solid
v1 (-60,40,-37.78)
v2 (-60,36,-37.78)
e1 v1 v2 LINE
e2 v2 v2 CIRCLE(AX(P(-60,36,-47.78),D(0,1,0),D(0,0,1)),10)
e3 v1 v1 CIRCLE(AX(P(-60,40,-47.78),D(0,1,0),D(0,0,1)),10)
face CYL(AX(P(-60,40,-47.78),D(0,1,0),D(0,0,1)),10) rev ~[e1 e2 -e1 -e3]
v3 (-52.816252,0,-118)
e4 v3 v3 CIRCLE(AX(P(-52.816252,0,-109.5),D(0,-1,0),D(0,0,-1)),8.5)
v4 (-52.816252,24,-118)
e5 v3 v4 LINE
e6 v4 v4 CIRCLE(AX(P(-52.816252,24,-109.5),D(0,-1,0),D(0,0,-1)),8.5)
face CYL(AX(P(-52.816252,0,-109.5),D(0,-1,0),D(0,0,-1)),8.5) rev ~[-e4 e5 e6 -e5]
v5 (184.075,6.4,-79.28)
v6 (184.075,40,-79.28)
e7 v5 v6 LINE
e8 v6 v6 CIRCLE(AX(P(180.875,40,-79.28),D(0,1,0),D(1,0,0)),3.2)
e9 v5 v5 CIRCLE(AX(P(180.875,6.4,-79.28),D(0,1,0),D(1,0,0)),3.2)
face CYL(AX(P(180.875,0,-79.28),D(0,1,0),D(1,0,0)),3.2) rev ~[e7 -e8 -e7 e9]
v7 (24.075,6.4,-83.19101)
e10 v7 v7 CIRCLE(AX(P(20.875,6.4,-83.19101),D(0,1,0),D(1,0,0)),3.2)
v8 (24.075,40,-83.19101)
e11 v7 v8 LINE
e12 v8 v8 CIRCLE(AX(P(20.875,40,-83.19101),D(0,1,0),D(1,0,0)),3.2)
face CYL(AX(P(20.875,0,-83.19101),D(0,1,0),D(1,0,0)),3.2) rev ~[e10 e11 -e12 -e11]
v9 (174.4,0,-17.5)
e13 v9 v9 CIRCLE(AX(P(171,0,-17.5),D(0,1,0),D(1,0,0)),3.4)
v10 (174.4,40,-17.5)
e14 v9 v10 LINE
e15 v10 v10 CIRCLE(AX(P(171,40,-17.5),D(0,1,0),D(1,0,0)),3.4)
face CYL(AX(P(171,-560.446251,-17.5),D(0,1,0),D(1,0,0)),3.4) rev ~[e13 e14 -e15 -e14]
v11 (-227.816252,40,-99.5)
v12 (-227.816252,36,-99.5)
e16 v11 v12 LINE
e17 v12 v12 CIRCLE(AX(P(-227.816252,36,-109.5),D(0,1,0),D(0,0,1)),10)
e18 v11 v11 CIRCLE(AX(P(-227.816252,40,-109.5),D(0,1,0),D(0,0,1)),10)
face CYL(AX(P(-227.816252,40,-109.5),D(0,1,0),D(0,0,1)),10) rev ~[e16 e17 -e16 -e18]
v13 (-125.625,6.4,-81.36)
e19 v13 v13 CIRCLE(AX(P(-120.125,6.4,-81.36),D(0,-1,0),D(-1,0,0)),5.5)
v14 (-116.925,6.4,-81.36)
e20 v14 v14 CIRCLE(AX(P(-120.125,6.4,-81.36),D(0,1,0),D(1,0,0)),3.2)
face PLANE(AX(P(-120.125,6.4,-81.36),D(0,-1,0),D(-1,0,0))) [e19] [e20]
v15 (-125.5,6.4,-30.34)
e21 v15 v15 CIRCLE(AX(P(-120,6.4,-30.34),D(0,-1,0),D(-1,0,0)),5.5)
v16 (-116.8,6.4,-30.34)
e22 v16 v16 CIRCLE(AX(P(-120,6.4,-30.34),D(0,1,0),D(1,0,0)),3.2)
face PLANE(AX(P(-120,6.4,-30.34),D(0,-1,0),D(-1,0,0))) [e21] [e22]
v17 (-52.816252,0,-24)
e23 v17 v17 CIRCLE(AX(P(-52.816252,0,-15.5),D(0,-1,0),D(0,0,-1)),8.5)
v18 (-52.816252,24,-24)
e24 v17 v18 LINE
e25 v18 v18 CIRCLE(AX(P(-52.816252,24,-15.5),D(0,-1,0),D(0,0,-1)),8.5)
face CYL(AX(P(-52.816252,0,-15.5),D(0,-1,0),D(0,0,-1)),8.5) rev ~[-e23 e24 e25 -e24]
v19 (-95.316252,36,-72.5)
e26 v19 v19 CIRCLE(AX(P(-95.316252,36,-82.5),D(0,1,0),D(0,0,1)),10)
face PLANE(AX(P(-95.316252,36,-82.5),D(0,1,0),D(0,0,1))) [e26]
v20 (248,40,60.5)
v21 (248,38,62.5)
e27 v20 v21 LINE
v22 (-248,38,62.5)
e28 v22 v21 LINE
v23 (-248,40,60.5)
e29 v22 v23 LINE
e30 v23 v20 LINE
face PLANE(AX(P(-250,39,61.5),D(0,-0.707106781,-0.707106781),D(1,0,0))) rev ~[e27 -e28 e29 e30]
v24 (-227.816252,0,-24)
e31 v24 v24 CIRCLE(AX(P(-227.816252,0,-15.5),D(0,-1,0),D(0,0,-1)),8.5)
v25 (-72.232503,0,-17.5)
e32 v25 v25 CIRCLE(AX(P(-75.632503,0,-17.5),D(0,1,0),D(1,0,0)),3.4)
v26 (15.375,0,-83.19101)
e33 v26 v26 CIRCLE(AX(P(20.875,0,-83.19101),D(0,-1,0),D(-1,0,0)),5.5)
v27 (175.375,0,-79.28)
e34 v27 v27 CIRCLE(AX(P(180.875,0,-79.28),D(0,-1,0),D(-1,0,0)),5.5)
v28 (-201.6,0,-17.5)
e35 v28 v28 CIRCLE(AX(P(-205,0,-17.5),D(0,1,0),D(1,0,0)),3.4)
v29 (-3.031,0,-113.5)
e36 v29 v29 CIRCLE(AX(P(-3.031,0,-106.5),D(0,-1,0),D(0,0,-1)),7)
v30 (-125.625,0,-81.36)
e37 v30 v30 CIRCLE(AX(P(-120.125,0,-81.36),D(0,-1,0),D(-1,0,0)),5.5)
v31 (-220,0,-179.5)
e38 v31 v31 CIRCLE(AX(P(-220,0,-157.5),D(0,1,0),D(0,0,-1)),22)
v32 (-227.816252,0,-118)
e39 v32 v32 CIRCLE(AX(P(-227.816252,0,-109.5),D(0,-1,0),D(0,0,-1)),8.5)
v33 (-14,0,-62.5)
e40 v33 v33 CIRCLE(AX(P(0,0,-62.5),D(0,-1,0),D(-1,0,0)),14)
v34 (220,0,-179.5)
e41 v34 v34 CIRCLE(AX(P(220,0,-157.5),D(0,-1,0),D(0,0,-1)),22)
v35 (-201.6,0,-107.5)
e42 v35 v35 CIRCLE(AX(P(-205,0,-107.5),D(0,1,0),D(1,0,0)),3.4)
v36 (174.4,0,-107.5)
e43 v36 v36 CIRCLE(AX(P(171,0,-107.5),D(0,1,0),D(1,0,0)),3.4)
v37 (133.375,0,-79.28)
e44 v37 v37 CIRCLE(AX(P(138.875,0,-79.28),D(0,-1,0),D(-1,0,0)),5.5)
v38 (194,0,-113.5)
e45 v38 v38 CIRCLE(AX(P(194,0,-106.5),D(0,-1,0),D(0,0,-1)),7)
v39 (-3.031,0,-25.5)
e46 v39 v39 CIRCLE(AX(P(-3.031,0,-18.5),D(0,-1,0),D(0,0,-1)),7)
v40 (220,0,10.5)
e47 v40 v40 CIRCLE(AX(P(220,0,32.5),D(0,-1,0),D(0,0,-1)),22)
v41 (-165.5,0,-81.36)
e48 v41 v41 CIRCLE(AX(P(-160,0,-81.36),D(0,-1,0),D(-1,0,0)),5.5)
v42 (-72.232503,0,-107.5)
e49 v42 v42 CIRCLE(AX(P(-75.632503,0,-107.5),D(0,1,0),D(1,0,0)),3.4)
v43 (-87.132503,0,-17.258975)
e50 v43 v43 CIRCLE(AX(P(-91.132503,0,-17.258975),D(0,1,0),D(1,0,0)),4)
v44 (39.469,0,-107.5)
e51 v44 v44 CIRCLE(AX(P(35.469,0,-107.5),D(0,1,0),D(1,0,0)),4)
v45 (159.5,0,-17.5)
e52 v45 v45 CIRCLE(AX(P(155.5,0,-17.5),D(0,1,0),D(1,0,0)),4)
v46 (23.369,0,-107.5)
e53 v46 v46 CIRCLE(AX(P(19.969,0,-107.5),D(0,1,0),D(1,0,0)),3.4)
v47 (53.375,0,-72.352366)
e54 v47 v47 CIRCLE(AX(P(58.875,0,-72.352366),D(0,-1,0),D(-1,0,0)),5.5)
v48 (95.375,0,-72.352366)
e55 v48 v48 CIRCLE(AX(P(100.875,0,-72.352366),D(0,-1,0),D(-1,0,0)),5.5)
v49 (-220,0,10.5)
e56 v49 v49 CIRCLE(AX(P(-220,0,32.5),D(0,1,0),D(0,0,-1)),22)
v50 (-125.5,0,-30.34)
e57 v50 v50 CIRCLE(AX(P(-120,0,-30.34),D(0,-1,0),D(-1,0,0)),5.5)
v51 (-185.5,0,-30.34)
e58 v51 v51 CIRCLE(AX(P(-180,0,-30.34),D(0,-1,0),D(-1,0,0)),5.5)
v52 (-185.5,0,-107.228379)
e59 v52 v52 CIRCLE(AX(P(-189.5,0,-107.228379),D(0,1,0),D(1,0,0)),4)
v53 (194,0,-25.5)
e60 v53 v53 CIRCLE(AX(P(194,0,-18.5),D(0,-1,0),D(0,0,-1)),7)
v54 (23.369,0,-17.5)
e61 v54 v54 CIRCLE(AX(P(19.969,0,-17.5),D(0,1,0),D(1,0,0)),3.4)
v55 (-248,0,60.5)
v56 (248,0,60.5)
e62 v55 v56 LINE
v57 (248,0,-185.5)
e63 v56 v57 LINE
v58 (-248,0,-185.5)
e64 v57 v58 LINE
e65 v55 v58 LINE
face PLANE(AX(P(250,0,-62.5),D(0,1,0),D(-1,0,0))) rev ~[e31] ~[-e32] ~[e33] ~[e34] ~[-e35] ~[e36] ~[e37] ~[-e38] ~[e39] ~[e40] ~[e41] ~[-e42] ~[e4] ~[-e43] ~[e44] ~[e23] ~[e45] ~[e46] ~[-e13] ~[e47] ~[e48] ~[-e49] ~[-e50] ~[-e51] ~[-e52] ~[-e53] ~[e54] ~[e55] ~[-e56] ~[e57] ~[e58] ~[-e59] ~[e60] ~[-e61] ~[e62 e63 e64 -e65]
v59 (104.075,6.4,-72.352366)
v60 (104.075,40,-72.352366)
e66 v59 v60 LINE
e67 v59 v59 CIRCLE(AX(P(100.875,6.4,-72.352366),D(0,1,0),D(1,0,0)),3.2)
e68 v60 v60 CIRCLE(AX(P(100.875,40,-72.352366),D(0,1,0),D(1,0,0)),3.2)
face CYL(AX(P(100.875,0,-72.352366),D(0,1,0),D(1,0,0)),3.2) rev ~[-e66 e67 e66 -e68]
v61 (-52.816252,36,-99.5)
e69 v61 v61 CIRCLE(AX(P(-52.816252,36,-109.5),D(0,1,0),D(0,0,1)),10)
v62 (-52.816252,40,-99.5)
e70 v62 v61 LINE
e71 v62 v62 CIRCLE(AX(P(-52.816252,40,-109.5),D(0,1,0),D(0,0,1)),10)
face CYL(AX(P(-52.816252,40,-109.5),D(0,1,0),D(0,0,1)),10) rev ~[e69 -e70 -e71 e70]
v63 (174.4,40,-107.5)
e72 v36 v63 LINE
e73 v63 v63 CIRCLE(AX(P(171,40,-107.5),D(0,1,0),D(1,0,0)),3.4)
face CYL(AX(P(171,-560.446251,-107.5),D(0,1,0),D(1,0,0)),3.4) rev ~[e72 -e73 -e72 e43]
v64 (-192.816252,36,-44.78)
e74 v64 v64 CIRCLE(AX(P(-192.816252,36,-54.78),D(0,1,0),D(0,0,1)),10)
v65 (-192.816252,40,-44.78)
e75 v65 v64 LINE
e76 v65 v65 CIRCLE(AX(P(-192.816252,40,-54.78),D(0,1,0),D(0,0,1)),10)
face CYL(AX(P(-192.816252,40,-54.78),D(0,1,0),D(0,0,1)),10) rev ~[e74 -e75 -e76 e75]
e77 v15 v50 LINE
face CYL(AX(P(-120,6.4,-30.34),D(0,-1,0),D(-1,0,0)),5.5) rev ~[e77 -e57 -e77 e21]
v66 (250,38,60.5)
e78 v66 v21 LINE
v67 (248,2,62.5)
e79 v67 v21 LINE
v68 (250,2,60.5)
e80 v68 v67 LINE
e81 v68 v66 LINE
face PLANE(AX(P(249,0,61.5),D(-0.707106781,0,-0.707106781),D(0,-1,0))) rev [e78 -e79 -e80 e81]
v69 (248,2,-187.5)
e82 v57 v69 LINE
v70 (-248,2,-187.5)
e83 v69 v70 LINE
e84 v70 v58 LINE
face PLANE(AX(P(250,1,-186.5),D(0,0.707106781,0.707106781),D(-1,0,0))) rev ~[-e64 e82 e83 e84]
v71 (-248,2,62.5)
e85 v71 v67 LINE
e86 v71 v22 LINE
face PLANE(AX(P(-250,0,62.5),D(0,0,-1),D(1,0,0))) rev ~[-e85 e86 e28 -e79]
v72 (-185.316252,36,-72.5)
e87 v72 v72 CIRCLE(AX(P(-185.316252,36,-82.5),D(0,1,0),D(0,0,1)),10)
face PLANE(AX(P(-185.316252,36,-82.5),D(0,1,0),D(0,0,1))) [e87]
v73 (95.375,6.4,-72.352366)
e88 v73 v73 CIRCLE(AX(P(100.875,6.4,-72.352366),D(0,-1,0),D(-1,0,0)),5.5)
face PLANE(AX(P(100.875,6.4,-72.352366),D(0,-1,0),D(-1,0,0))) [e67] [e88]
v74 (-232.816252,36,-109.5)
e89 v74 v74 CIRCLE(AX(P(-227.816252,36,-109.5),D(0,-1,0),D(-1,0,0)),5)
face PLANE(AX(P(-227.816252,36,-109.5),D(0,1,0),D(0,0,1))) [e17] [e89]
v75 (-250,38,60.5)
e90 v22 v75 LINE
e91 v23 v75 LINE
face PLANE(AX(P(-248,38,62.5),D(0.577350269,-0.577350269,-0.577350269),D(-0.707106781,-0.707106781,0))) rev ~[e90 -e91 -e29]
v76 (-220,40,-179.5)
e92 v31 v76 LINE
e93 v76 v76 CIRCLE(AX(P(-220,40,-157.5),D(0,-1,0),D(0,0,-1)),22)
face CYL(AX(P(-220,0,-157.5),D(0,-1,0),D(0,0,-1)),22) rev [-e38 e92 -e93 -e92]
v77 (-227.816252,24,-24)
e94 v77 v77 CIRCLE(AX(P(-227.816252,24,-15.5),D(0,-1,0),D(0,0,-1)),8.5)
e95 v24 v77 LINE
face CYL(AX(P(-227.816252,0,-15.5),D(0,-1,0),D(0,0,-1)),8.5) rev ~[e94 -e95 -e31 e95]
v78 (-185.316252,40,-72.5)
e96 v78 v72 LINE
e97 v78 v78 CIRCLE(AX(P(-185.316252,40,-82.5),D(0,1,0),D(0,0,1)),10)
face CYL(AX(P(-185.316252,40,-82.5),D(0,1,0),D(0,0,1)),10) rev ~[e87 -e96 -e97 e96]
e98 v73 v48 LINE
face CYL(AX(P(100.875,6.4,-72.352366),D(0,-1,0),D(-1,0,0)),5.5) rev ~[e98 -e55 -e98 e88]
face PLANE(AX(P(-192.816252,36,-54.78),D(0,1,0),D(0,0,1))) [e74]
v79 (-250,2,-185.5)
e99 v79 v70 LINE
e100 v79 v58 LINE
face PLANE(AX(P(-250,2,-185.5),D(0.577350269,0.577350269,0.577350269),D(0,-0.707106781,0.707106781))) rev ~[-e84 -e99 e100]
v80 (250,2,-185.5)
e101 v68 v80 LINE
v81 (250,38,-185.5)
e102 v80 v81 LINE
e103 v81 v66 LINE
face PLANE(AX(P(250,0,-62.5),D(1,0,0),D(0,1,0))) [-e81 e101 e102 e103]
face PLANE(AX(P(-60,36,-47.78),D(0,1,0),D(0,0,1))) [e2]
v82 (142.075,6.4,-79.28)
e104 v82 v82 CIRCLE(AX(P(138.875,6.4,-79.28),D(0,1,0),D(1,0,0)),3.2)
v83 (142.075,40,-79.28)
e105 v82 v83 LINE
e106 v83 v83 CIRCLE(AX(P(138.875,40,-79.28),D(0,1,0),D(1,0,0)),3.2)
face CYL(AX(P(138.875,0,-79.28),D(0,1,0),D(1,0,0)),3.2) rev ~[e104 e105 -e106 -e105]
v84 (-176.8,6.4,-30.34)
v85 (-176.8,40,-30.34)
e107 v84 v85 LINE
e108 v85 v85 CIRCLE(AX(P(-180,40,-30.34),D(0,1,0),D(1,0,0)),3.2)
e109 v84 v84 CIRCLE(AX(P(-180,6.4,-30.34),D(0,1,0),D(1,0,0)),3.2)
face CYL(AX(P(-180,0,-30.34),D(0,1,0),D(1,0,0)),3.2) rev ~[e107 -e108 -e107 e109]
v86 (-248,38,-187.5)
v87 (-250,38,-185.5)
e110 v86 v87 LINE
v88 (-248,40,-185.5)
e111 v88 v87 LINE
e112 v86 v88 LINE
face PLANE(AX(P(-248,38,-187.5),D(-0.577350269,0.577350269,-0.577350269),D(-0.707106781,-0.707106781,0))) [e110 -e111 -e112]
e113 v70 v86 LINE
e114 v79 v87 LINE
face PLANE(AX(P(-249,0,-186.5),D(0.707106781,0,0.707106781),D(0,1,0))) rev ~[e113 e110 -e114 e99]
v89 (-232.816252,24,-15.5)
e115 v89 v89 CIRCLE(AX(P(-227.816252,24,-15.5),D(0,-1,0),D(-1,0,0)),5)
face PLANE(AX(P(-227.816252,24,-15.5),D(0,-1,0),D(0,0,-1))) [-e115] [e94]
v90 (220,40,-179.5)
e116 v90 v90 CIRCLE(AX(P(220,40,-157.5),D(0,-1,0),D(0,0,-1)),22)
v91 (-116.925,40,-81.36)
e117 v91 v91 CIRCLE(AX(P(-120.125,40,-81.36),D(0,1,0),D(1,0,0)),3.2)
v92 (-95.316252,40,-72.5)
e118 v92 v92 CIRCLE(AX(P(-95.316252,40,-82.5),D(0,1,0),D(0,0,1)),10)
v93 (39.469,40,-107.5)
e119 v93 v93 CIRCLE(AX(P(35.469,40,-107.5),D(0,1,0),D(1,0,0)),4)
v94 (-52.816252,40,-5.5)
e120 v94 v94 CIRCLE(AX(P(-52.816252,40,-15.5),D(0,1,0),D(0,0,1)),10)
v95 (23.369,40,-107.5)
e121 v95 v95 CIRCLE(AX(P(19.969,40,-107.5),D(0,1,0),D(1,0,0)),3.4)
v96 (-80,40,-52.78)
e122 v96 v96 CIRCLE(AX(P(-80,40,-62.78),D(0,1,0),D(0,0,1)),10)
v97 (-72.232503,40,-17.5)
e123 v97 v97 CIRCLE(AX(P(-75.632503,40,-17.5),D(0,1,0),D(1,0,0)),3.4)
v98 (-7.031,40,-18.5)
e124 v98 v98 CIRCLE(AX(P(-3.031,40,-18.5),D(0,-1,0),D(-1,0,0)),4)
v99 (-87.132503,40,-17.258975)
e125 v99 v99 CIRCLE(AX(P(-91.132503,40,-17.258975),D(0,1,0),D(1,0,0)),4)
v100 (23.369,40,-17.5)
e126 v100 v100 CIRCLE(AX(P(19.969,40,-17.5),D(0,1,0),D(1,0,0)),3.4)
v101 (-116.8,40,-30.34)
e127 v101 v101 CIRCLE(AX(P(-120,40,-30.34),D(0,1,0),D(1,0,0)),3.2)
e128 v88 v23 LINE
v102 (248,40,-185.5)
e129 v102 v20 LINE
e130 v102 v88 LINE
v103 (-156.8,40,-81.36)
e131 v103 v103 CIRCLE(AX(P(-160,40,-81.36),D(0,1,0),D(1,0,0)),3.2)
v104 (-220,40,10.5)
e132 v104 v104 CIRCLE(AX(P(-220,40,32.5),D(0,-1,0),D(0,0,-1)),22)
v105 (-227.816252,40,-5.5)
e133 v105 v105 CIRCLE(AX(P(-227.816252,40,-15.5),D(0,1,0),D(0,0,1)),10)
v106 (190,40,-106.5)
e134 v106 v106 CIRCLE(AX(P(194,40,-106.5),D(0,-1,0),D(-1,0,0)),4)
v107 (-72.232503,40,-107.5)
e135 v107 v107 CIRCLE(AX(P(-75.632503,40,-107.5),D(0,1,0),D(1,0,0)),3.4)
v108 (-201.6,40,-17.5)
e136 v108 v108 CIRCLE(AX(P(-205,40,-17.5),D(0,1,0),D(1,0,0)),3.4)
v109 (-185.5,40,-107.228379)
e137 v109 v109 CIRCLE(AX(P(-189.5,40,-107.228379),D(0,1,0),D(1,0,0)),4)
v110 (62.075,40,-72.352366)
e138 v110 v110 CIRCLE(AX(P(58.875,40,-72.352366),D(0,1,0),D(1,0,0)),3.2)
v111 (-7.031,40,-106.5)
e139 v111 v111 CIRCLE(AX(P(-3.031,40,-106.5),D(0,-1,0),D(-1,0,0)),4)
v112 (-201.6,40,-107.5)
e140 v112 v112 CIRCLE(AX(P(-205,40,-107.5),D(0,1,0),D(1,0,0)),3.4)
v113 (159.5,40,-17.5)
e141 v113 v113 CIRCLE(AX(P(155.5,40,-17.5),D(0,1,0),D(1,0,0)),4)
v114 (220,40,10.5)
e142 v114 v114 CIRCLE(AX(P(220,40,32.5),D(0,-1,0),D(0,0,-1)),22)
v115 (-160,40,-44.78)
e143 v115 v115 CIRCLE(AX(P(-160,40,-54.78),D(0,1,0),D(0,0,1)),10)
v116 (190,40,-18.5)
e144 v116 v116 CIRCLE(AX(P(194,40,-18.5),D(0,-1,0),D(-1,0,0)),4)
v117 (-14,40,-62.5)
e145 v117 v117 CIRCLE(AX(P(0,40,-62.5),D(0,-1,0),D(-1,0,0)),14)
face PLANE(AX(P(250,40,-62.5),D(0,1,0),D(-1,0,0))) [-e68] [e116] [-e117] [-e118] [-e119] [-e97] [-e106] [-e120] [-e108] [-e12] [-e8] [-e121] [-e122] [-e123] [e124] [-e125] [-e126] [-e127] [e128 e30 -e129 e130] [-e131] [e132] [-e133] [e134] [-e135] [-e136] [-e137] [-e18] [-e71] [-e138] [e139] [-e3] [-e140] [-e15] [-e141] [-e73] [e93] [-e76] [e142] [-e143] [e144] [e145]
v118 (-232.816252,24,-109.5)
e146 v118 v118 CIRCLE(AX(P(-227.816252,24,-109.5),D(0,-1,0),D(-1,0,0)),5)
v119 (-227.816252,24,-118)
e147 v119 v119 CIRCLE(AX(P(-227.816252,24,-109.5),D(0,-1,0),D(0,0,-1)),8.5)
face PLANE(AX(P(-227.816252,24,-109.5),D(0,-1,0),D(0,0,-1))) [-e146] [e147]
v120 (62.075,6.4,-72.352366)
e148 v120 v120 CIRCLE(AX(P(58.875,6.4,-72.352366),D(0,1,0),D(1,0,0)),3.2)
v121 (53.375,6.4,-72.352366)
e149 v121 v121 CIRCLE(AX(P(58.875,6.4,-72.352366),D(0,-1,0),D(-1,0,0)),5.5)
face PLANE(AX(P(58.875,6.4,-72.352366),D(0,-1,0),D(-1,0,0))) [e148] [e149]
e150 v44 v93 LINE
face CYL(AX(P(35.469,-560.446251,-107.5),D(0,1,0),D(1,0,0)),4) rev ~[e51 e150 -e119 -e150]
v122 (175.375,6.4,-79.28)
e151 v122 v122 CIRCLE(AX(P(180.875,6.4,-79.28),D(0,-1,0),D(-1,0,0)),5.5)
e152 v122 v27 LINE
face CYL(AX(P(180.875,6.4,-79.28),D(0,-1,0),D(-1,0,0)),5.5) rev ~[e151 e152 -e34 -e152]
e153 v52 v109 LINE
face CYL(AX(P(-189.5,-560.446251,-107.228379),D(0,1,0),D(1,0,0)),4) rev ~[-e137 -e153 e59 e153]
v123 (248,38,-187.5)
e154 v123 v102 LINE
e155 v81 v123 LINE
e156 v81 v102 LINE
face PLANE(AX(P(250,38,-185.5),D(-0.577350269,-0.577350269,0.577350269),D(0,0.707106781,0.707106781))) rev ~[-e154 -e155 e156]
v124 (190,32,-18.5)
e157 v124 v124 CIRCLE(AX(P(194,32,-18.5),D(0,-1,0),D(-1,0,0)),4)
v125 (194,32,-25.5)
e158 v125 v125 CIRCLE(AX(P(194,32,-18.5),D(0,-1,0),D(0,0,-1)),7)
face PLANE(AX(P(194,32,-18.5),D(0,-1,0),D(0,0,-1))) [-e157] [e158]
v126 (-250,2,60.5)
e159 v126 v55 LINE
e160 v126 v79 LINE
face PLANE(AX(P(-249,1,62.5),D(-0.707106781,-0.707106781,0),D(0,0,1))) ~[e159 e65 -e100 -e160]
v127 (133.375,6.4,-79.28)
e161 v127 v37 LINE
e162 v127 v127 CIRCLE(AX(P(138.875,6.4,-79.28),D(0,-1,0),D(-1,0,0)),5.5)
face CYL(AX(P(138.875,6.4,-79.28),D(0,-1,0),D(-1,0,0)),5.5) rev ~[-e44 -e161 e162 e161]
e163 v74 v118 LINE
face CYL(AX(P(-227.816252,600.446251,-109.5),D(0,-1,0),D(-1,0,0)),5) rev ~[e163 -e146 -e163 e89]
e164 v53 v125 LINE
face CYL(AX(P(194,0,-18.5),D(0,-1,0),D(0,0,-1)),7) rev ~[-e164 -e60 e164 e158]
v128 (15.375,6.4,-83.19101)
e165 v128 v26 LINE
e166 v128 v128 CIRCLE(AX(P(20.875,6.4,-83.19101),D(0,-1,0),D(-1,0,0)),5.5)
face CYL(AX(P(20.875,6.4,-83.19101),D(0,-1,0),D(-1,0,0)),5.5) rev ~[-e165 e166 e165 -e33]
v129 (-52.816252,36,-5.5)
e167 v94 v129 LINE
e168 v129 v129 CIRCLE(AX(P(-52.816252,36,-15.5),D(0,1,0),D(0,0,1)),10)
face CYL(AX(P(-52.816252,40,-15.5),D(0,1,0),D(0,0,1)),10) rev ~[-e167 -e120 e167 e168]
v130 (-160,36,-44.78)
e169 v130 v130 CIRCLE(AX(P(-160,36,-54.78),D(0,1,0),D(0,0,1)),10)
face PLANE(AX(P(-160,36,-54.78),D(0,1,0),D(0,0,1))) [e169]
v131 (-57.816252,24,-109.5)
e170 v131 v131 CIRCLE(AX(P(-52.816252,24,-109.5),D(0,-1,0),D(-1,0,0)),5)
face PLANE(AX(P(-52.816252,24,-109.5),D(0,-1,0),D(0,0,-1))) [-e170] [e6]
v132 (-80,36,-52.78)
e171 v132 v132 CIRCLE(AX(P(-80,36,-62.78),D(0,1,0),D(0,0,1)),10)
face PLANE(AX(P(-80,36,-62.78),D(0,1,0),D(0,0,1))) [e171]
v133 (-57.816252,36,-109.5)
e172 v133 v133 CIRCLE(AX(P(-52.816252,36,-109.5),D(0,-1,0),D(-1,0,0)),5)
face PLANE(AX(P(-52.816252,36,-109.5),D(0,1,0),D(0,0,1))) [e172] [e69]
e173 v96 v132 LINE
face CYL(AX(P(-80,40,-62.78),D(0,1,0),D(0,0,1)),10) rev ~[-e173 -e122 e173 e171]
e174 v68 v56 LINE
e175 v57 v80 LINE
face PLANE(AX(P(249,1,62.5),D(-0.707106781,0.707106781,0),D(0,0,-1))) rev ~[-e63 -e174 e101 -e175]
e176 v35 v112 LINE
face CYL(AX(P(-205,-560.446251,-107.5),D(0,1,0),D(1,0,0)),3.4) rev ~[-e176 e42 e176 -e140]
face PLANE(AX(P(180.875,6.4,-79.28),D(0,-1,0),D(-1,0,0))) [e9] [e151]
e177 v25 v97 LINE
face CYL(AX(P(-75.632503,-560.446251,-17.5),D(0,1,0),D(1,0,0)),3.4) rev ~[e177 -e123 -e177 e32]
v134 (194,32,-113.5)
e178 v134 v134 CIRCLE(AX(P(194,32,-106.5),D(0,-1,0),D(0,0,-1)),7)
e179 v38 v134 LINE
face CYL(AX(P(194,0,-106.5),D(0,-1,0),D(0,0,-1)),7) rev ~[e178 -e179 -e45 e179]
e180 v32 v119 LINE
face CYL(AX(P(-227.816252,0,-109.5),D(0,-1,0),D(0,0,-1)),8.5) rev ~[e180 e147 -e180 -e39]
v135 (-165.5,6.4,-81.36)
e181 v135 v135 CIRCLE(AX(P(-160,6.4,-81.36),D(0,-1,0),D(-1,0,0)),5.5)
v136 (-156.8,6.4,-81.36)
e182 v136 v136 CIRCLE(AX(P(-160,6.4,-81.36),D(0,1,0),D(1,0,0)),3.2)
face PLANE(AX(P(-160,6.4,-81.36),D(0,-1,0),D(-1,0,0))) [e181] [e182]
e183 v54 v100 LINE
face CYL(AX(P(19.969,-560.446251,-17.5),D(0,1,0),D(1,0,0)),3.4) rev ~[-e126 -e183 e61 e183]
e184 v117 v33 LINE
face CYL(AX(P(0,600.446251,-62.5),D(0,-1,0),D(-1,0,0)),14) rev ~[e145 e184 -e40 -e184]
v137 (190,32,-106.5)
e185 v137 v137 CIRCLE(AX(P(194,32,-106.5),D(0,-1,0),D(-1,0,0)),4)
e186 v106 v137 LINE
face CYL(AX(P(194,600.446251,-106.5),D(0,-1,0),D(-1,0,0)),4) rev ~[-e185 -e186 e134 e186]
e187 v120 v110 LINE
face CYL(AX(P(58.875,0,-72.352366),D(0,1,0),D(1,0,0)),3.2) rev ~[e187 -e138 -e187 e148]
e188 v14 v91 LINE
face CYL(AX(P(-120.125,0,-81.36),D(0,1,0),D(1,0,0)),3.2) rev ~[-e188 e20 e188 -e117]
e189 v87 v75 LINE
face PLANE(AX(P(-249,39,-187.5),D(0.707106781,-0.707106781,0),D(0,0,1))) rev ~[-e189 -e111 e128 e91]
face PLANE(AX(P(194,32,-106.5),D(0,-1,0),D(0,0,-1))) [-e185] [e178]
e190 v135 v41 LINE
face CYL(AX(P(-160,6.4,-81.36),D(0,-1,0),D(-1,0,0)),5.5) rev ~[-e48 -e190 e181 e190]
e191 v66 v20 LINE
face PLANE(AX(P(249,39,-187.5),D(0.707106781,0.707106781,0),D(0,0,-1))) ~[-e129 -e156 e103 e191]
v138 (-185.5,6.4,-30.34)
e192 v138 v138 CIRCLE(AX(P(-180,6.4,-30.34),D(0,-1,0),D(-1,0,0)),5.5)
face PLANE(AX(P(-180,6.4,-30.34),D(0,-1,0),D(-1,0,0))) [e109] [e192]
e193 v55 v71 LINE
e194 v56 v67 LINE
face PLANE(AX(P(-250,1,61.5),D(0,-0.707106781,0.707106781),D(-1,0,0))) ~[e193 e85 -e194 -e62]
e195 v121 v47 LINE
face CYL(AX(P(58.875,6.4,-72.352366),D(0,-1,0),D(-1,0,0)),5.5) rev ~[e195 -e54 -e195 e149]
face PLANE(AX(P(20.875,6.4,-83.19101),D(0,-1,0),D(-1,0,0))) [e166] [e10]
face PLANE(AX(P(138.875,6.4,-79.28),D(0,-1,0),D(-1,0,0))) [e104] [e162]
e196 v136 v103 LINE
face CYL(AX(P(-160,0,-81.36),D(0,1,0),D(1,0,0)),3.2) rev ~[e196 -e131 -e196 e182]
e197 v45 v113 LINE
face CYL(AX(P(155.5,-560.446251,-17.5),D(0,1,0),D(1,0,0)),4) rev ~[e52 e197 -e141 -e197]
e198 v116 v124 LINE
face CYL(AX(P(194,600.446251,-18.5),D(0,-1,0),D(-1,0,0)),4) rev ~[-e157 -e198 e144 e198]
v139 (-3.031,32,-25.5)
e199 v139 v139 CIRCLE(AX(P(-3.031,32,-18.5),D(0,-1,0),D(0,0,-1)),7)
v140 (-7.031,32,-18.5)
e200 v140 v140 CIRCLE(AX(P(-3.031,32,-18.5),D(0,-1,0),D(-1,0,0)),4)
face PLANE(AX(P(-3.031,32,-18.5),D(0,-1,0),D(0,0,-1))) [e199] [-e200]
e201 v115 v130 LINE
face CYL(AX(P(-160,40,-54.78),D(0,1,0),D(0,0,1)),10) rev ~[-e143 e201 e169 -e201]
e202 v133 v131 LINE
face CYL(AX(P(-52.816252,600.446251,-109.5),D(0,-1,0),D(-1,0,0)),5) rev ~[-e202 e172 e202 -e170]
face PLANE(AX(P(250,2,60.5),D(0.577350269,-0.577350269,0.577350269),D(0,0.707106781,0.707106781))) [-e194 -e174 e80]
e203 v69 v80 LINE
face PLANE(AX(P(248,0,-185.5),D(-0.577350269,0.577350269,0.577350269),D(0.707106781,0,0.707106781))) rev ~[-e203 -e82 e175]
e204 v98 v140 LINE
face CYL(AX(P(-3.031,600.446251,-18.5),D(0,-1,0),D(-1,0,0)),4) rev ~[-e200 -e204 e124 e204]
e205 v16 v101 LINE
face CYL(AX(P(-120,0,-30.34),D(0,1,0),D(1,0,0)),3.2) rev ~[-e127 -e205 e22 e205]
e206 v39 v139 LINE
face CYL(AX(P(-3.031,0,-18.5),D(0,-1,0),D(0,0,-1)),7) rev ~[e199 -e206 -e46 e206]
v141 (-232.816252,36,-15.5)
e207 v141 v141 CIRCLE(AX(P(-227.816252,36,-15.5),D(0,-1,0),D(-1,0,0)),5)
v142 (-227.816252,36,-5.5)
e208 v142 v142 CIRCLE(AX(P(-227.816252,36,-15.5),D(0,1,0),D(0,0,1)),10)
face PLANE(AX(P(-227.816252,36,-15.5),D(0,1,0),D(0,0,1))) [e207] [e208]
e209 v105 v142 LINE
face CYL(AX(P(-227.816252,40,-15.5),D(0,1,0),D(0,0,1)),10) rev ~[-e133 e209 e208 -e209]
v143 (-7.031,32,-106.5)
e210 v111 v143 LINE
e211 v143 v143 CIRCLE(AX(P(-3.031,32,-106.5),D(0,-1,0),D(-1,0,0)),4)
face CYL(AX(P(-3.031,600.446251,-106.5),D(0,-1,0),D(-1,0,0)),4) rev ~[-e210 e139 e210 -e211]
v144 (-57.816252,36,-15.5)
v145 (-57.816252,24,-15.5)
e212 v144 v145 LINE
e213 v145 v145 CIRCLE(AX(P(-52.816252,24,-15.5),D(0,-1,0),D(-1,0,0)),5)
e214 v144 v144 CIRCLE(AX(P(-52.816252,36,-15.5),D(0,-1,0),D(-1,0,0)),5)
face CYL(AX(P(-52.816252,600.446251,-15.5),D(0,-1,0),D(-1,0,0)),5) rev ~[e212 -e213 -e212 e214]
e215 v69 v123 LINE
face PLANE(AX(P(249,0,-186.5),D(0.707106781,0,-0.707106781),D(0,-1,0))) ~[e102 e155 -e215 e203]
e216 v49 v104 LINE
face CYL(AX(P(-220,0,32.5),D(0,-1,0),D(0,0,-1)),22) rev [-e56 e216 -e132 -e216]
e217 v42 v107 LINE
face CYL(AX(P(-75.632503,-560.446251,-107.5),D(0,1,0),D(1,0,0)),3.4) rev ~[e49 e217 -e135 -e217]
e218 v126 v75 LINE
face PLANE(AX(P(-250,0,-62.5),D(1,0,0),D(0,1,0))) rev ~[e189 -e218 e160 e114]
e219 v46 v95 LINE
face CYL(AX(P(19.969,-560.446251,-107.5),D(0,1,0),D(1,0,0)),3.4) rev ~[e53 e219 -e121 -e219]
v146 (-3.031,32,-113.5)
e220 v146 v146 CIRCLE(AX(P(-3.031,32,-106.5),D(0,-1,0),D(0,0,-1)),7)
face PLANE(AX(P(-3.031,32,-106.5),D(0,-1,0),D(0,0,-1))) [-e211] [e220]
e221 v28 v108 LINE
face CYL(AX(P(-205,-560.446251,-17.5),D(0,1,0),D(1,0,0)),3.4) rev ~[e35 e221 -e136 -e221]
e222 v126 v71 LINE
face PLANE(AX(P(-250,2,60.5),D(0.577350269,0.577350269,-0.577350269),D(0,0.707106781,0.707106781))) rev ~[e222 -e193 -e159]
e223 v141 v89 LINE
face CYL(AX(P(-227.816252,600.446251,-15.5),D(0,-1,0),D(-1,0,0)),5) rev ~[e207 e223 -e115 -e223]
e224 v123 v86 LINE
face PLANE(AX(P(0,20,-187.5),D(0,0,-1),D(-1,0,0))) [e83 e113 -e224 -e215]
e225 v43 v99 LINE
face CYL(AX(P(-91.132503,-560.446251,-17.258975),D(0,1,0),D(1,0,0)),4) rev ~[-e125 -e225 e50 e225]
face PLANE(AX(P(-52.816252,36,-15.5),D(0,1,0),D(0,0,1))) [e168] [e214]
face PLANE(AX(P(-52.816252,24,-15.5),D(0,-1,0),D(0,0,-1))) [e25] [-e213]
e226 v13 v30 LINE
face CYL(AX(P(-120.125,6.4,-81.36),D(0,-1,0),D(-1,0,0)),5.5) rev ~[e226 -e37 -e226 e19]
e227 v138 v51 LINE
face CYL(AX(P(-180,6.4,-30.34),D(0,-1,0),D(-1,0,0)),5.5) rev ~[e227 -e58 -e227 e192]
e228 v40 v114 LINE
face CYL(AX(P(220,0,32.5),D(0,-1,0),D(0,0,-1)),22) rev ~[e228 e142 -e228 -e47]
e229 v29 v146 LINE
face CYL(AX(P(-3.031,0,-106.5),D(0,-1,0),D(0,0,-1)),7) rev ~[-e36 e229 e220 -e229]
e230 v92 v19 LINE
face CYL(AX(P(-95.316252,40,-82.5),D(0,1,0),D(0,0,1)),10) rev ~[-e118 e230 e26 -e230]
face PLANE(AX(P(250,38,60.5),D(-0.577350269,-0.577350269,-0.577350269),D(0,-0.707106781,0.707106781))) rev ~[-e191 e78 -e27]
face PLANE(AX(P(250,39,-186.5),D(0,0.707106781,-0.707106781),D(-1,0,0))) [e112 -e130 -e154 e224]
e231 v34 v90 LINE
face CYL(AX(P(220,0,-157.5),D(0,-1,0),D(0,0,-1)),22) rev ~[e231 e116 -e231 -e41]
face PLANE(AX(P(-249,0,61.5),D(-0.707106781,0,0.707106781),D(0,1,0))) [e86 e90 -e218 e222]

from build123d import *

# Parameters (mm, degrees)
SKETCH2_W                                           = 500
SKETCH2_H                                           = 125
BOSS_EXTRUDE1_DEPTH                                 = 40
SKETCH3_W                                           = 500
SKETCH3_H                                           = 40
BOSS_EXTRUDE2_DEPTH                                 = 125
SKETCH6_R                                           = 22
CUT_EXTRUDE1_DEPTH                                  = 316.04959927
M30X2_0_TAPPED_HOLE1_D                              = 28
CHAMFER1_SIZE                                       = 2
M8_TAPPED_HOLE1_D                                   = 6.8
F_8_0MM_DOWEL_HOLE1_D                               = 8
CBORE_FOR_M6_HEX_SOCKET_HEAD_CAP_SCREW1_D           = 6.4
CBORE_FOR_M6_HEX_SOCKET_HEAD_CAP_SCREW1_CBORE_D     = 11
CBORE_FOR_M6_HEX_SOCKET_HEAD_CAP_SCREW1_CBORE_DEPTH = 6.4
CBORE_FOR_M6_HEX_SOCKET_HEAD_CAP_SCREW2_D           = 6.4
CBORE_FOR_M6_HEX_SOCKET_HEAD_CAP_SCREW2_CBORE_D     = 11
CBORE_FOR_M6_HEX_SOCKET_HEAD_CAP_SCREW2_CBORE_DEPTH = 6.4
SKETCH25_R                                          = 10
CUT_EXTRUDE2_DEPTH                                  = 4
F_10_0_10_DIAMETER_HOLE1_D                          = 10
SKETCH35_R                                          = 8.5
CUT_EXTRUDE3_DEPTH                                  = 24
F_8_0_8_DIAMETER_HOLE2_D                            = 8
SKETCH43_R                                          = 7
CUT_EXTRUDE4_DEPTH                                  = 32


with BuildPart() as part:
    # Sketch2 → Boss-Extrude1 (new body)
    with BuildSketch(Plane(origin=(0, 0, 0), x_dir=(1, 0, 0), z_dir=(0, 1, 0))):
        Rectangle(SKETCH2_W, SKETCH2_H)
    extrude(amount=BOSS_EXTRUDE1_DEPTH)

    # Sketch3 → Boss-Extrude2 (add)
    with BuildSketch(Plane(origin=(0, 0, -62.5), x_dir=(-1, 0, 0), z_dir=(0, 0, -1))):
        with Locations((0, 20)):
            Rectangle(SKETCH3_W, SKETCH3_H)
    extrude(amount=BOSS_EXTRUDE2_DEPTH)

    # Sketch6 → Cut-Extrude1 (cut, through all)
    with BuildSketch(Plane(origin=(0, 0, 0), x_dir=(-1, 0, 0), z_dir=(0, -1, 0))):
        with Locations(Location((-220, 157.5, 0), (0, 0, 90))):
            Circle(SKETCH6_R)
        with Locations(Location((-220, -32.5, 0), (0, 0, 90))):
            Circle(SKETCH6_R)
    cut_extrude1 = extrude(amount=-CUT_EXTRUDE1_DEPTH, mode=Mode.SUBTRACT)

    # Mirror1: Cut-Extrude1 across plane
    add(cut_extrude1.mirror(Plane(origin=(0, 0, 0), x_dir=(0, 0, 1), z_dir=(1, 0, 0))), mode=Mode.SUBTRACT)

    # M30x2.0 Tapped Hole1 (through all)
    with Locations(Plane(origin=(0, 40, 0), x_dir=(1, 0, 0), z_dir=(0, 1, 0))):
        with Locations((0, 62.5)):
            Hole(M30X2_0_TAPPED_HOLE1_D / 2)

    # Chamfer1
    chamfer1_edges = [part.edges().sort_by_distance(p)[0] for p in [
        (-250, 40, -62.5),
        (0, 40, -187.5),
        (0, 40, 62.5),
        (250, 20, -187.5),
        (0, 0, -187.5),
        (-250, 20, -187.5),
        (250, 40, -62.5),
        (0, 0, 62.5),
        (-250, 0, -62.5),
        (250, 0, -62.5),
        (250, 20, 62.5),
        (-250, 20, 62.5),
    ]]
    chamfer(chamfer1_edges, length=CHAMFER1_SIZE)

    # M8 Tapped Hole1 (through all)
    with Locations(Plane(origin=(0, 0, 0), x_dir=(-1, 0, 0), z_dir=(0, -1, 0))):
        with Locations((-171, 17.5), (-19.969, 17.5), (-19.969, 107.5), (-171, 107.5), (75.632503002, 107.5), (205, 107.5), (205, 17.5), (75.632503002, 17.5)):
            Hole(M8_TAPPED_HOLE1_D / 2)

    # Ø8.0mm Dowel Hole1 (through all)
    with Locations(Plane(origin=(0, 0, 0), x_dir=(-1, 0, 0), z_dir=(0, -1, 0))):
        with Locations((-155.5, 17.5), (-35.469, 107.5), (91.132503002, 17.258975019), (189.5, 107.228378806)):
            Hole(F_8_0MM_DOWEL_HOLE1_D / 2)

    # CBORE for M6 Hex Socket Head Cap Screw1 (through all)
    with Locations(Plane(origin=(0, 0, 0), x_dir=(-1, 0, 0), z_dir=(0, -1, 0))):
        with Locations((-180.875, 79.28), (-100.875, 72.352366083), (-58.875, 72.352366083), (-20.875, 83.19101), (-138.875, 79.28)):
            CounterBoreHole(CBORE_FOR_M6_HEX_SOCKET_HEAD_CAP_SCREW1_D / 2, CBORE_FOR_M6_HEX_SOCKET_HEAD_CAP_SCREW1_CBORE_D / 2, CBORE_FOR_M6_HEX_SOCKET_HEAD_CAP_SCREW1_CBORE_DEPTH)

    # CBORE for M6 Hex Socket Head Cap Screw2 (through all)
    with Locations(Plane(origin=(0, 0, 0), x_dir=(-1, 0, 0), z_dir=(0, -1, 0))):
        with Locations((160, 81.36), (120.125, 81.36), (120, 30.34), (180, 30.34)):
            CounterBoreHole(CBORE_FOR_M6_HEX_SOCKET_HEAD_CAP_SCREW2_D / 2, CBORE_FOR_M6_HEX_SOCKET_HEAD_CAP_SCREW2_CBORE_D / 2, CBORE_FOR_M6_HEX_SOCKET_HEAD_CAP_SCREW2_CBORE_DEPTH)

    # Sketch25 → Cut-Extrude2 (cut)
    with BuildSketch(Plane(origin=(0, 40, 0), x_dir=(1, 0, 0), z_dir=(0, 1, 0))):
        with Locations(Location((-227.816251501, 15.5, 0), (0, 0, 270))):
            Circle(SKETCH25_R)
        with Locations(Location((-52.816251501, 15.5, 0), (0, 0, 270))):
            Circle(SKETCH25_R)
        with Locations(Location((-52.816251501, 109.5, 0), (0, 0, 270))):
            Circle(SKETCH25_R)
        with Locations(Location((-227.816251501, 109.5, 0), (0, 0, 270))):
            Circle(SKETCH25_R)
        with Locations(Location((-185.316251501, 82.5, 0), (0, 0, 270))):
            Circle(SKETCH25_R)
        with Locations(Location((-192.816251501, 54.78, 0), (0, 0, 270))):
            Circle(SKETCH25_R)
        with Locations(Location((-160, 54.78, 0), (0, 0, 270))):
            Circle(SKETCH25_R)
        with Locations(Location((-95.316251501, 82.5, 0), (0, 0, 270))):
            Circle(SKETCH25_R)
        with Locations(Location((-80, 62.78, 0), (0, 0, 270))):
            Circle(SKETCH25_R)
        with Locations(Location((-60, 47.78, 0), (0, 0, 270))):
            Circle(SKETCH25_R)
    extrude(amount=-CUT_EXTRUDE2_DEPTH, mode=Mode.SUBTRACT)

    # Ø10.0 (10) Diameter Hole1 (through all)
    with Locations(Plane(origin=(0, 40, 0), x_dir=(1, 0, 0), z_dir=(0, 1, 0))):
        with Locations((-52.816251501, 15.5), (-227.816251501, 109.5), (-227.816251501, 15.5), (-52.816251501, 109.5)):
            Hole(F_10_0_10_DIAMETER_HOLE1_D / 2)

    # Sketch35 → Cut-Extrude3 (cut)
    with BuildSketch(Plane.XZ):
        with Locations(Location((-52.816251501, -109.5, 0), (0, 0, 270))):
            Circle(SKETCH35_R)
        with Locations(Location((-227.816251501, -15.5, 0), (0, 0, 270))):
            Circle(SKETCH35_R)
        with Locations(Location((-227.816251501, -109.5, 0), (0, 0, 270))):
            Circle(SKETCH35_R)
        with Locations(Location((-52.816251501, -15.5, 0), (0, 0, 270))):
            Circle(SKETCH35_R)
    extrude(amount=-CUT_EXTRUDE3_DEPTH, mode=Mode.SUBTRACT)

    # Ø8.0 (8) Diameter Hole2 (through all)
    with Locations(Plane(origin=(0, 40, 0), x_dir=(1, 0, 0), z_dir=(0, 1, 0))):
        with Locations((-3.031, 106.5), (-3.031, 18.5), (194, 106.5), (194, 18.5)):
            Hole(F_8_0_8_DIAMETER_HOLE2_D / 2)

    # Sketch43 → Cut-Extrude4 (cut)
    with BuildSketch(Plane.XZ):
        with Locations(Location((194, -106.5, 0), (0, 0, 270))):
            Circle(SKETCH43_R)
        with Locations(Location((194, -18.5, 0), (0, 0, 270))):
            Circle(SKETCH43_R)
        with Locations(Location((-3.031, -18.5, 0), (0, 0, 270))):
            Circle(SKETCH43_R)
        with Locations(Location((-3.031, -106.5, 0), (0, 0, 270))):
            Circle(SKETCH43_R)
    extrude(amount=-CUT_EXTRUDE4_DEPTH, mode=Mode.SUBTRACT)


solid = part.part
